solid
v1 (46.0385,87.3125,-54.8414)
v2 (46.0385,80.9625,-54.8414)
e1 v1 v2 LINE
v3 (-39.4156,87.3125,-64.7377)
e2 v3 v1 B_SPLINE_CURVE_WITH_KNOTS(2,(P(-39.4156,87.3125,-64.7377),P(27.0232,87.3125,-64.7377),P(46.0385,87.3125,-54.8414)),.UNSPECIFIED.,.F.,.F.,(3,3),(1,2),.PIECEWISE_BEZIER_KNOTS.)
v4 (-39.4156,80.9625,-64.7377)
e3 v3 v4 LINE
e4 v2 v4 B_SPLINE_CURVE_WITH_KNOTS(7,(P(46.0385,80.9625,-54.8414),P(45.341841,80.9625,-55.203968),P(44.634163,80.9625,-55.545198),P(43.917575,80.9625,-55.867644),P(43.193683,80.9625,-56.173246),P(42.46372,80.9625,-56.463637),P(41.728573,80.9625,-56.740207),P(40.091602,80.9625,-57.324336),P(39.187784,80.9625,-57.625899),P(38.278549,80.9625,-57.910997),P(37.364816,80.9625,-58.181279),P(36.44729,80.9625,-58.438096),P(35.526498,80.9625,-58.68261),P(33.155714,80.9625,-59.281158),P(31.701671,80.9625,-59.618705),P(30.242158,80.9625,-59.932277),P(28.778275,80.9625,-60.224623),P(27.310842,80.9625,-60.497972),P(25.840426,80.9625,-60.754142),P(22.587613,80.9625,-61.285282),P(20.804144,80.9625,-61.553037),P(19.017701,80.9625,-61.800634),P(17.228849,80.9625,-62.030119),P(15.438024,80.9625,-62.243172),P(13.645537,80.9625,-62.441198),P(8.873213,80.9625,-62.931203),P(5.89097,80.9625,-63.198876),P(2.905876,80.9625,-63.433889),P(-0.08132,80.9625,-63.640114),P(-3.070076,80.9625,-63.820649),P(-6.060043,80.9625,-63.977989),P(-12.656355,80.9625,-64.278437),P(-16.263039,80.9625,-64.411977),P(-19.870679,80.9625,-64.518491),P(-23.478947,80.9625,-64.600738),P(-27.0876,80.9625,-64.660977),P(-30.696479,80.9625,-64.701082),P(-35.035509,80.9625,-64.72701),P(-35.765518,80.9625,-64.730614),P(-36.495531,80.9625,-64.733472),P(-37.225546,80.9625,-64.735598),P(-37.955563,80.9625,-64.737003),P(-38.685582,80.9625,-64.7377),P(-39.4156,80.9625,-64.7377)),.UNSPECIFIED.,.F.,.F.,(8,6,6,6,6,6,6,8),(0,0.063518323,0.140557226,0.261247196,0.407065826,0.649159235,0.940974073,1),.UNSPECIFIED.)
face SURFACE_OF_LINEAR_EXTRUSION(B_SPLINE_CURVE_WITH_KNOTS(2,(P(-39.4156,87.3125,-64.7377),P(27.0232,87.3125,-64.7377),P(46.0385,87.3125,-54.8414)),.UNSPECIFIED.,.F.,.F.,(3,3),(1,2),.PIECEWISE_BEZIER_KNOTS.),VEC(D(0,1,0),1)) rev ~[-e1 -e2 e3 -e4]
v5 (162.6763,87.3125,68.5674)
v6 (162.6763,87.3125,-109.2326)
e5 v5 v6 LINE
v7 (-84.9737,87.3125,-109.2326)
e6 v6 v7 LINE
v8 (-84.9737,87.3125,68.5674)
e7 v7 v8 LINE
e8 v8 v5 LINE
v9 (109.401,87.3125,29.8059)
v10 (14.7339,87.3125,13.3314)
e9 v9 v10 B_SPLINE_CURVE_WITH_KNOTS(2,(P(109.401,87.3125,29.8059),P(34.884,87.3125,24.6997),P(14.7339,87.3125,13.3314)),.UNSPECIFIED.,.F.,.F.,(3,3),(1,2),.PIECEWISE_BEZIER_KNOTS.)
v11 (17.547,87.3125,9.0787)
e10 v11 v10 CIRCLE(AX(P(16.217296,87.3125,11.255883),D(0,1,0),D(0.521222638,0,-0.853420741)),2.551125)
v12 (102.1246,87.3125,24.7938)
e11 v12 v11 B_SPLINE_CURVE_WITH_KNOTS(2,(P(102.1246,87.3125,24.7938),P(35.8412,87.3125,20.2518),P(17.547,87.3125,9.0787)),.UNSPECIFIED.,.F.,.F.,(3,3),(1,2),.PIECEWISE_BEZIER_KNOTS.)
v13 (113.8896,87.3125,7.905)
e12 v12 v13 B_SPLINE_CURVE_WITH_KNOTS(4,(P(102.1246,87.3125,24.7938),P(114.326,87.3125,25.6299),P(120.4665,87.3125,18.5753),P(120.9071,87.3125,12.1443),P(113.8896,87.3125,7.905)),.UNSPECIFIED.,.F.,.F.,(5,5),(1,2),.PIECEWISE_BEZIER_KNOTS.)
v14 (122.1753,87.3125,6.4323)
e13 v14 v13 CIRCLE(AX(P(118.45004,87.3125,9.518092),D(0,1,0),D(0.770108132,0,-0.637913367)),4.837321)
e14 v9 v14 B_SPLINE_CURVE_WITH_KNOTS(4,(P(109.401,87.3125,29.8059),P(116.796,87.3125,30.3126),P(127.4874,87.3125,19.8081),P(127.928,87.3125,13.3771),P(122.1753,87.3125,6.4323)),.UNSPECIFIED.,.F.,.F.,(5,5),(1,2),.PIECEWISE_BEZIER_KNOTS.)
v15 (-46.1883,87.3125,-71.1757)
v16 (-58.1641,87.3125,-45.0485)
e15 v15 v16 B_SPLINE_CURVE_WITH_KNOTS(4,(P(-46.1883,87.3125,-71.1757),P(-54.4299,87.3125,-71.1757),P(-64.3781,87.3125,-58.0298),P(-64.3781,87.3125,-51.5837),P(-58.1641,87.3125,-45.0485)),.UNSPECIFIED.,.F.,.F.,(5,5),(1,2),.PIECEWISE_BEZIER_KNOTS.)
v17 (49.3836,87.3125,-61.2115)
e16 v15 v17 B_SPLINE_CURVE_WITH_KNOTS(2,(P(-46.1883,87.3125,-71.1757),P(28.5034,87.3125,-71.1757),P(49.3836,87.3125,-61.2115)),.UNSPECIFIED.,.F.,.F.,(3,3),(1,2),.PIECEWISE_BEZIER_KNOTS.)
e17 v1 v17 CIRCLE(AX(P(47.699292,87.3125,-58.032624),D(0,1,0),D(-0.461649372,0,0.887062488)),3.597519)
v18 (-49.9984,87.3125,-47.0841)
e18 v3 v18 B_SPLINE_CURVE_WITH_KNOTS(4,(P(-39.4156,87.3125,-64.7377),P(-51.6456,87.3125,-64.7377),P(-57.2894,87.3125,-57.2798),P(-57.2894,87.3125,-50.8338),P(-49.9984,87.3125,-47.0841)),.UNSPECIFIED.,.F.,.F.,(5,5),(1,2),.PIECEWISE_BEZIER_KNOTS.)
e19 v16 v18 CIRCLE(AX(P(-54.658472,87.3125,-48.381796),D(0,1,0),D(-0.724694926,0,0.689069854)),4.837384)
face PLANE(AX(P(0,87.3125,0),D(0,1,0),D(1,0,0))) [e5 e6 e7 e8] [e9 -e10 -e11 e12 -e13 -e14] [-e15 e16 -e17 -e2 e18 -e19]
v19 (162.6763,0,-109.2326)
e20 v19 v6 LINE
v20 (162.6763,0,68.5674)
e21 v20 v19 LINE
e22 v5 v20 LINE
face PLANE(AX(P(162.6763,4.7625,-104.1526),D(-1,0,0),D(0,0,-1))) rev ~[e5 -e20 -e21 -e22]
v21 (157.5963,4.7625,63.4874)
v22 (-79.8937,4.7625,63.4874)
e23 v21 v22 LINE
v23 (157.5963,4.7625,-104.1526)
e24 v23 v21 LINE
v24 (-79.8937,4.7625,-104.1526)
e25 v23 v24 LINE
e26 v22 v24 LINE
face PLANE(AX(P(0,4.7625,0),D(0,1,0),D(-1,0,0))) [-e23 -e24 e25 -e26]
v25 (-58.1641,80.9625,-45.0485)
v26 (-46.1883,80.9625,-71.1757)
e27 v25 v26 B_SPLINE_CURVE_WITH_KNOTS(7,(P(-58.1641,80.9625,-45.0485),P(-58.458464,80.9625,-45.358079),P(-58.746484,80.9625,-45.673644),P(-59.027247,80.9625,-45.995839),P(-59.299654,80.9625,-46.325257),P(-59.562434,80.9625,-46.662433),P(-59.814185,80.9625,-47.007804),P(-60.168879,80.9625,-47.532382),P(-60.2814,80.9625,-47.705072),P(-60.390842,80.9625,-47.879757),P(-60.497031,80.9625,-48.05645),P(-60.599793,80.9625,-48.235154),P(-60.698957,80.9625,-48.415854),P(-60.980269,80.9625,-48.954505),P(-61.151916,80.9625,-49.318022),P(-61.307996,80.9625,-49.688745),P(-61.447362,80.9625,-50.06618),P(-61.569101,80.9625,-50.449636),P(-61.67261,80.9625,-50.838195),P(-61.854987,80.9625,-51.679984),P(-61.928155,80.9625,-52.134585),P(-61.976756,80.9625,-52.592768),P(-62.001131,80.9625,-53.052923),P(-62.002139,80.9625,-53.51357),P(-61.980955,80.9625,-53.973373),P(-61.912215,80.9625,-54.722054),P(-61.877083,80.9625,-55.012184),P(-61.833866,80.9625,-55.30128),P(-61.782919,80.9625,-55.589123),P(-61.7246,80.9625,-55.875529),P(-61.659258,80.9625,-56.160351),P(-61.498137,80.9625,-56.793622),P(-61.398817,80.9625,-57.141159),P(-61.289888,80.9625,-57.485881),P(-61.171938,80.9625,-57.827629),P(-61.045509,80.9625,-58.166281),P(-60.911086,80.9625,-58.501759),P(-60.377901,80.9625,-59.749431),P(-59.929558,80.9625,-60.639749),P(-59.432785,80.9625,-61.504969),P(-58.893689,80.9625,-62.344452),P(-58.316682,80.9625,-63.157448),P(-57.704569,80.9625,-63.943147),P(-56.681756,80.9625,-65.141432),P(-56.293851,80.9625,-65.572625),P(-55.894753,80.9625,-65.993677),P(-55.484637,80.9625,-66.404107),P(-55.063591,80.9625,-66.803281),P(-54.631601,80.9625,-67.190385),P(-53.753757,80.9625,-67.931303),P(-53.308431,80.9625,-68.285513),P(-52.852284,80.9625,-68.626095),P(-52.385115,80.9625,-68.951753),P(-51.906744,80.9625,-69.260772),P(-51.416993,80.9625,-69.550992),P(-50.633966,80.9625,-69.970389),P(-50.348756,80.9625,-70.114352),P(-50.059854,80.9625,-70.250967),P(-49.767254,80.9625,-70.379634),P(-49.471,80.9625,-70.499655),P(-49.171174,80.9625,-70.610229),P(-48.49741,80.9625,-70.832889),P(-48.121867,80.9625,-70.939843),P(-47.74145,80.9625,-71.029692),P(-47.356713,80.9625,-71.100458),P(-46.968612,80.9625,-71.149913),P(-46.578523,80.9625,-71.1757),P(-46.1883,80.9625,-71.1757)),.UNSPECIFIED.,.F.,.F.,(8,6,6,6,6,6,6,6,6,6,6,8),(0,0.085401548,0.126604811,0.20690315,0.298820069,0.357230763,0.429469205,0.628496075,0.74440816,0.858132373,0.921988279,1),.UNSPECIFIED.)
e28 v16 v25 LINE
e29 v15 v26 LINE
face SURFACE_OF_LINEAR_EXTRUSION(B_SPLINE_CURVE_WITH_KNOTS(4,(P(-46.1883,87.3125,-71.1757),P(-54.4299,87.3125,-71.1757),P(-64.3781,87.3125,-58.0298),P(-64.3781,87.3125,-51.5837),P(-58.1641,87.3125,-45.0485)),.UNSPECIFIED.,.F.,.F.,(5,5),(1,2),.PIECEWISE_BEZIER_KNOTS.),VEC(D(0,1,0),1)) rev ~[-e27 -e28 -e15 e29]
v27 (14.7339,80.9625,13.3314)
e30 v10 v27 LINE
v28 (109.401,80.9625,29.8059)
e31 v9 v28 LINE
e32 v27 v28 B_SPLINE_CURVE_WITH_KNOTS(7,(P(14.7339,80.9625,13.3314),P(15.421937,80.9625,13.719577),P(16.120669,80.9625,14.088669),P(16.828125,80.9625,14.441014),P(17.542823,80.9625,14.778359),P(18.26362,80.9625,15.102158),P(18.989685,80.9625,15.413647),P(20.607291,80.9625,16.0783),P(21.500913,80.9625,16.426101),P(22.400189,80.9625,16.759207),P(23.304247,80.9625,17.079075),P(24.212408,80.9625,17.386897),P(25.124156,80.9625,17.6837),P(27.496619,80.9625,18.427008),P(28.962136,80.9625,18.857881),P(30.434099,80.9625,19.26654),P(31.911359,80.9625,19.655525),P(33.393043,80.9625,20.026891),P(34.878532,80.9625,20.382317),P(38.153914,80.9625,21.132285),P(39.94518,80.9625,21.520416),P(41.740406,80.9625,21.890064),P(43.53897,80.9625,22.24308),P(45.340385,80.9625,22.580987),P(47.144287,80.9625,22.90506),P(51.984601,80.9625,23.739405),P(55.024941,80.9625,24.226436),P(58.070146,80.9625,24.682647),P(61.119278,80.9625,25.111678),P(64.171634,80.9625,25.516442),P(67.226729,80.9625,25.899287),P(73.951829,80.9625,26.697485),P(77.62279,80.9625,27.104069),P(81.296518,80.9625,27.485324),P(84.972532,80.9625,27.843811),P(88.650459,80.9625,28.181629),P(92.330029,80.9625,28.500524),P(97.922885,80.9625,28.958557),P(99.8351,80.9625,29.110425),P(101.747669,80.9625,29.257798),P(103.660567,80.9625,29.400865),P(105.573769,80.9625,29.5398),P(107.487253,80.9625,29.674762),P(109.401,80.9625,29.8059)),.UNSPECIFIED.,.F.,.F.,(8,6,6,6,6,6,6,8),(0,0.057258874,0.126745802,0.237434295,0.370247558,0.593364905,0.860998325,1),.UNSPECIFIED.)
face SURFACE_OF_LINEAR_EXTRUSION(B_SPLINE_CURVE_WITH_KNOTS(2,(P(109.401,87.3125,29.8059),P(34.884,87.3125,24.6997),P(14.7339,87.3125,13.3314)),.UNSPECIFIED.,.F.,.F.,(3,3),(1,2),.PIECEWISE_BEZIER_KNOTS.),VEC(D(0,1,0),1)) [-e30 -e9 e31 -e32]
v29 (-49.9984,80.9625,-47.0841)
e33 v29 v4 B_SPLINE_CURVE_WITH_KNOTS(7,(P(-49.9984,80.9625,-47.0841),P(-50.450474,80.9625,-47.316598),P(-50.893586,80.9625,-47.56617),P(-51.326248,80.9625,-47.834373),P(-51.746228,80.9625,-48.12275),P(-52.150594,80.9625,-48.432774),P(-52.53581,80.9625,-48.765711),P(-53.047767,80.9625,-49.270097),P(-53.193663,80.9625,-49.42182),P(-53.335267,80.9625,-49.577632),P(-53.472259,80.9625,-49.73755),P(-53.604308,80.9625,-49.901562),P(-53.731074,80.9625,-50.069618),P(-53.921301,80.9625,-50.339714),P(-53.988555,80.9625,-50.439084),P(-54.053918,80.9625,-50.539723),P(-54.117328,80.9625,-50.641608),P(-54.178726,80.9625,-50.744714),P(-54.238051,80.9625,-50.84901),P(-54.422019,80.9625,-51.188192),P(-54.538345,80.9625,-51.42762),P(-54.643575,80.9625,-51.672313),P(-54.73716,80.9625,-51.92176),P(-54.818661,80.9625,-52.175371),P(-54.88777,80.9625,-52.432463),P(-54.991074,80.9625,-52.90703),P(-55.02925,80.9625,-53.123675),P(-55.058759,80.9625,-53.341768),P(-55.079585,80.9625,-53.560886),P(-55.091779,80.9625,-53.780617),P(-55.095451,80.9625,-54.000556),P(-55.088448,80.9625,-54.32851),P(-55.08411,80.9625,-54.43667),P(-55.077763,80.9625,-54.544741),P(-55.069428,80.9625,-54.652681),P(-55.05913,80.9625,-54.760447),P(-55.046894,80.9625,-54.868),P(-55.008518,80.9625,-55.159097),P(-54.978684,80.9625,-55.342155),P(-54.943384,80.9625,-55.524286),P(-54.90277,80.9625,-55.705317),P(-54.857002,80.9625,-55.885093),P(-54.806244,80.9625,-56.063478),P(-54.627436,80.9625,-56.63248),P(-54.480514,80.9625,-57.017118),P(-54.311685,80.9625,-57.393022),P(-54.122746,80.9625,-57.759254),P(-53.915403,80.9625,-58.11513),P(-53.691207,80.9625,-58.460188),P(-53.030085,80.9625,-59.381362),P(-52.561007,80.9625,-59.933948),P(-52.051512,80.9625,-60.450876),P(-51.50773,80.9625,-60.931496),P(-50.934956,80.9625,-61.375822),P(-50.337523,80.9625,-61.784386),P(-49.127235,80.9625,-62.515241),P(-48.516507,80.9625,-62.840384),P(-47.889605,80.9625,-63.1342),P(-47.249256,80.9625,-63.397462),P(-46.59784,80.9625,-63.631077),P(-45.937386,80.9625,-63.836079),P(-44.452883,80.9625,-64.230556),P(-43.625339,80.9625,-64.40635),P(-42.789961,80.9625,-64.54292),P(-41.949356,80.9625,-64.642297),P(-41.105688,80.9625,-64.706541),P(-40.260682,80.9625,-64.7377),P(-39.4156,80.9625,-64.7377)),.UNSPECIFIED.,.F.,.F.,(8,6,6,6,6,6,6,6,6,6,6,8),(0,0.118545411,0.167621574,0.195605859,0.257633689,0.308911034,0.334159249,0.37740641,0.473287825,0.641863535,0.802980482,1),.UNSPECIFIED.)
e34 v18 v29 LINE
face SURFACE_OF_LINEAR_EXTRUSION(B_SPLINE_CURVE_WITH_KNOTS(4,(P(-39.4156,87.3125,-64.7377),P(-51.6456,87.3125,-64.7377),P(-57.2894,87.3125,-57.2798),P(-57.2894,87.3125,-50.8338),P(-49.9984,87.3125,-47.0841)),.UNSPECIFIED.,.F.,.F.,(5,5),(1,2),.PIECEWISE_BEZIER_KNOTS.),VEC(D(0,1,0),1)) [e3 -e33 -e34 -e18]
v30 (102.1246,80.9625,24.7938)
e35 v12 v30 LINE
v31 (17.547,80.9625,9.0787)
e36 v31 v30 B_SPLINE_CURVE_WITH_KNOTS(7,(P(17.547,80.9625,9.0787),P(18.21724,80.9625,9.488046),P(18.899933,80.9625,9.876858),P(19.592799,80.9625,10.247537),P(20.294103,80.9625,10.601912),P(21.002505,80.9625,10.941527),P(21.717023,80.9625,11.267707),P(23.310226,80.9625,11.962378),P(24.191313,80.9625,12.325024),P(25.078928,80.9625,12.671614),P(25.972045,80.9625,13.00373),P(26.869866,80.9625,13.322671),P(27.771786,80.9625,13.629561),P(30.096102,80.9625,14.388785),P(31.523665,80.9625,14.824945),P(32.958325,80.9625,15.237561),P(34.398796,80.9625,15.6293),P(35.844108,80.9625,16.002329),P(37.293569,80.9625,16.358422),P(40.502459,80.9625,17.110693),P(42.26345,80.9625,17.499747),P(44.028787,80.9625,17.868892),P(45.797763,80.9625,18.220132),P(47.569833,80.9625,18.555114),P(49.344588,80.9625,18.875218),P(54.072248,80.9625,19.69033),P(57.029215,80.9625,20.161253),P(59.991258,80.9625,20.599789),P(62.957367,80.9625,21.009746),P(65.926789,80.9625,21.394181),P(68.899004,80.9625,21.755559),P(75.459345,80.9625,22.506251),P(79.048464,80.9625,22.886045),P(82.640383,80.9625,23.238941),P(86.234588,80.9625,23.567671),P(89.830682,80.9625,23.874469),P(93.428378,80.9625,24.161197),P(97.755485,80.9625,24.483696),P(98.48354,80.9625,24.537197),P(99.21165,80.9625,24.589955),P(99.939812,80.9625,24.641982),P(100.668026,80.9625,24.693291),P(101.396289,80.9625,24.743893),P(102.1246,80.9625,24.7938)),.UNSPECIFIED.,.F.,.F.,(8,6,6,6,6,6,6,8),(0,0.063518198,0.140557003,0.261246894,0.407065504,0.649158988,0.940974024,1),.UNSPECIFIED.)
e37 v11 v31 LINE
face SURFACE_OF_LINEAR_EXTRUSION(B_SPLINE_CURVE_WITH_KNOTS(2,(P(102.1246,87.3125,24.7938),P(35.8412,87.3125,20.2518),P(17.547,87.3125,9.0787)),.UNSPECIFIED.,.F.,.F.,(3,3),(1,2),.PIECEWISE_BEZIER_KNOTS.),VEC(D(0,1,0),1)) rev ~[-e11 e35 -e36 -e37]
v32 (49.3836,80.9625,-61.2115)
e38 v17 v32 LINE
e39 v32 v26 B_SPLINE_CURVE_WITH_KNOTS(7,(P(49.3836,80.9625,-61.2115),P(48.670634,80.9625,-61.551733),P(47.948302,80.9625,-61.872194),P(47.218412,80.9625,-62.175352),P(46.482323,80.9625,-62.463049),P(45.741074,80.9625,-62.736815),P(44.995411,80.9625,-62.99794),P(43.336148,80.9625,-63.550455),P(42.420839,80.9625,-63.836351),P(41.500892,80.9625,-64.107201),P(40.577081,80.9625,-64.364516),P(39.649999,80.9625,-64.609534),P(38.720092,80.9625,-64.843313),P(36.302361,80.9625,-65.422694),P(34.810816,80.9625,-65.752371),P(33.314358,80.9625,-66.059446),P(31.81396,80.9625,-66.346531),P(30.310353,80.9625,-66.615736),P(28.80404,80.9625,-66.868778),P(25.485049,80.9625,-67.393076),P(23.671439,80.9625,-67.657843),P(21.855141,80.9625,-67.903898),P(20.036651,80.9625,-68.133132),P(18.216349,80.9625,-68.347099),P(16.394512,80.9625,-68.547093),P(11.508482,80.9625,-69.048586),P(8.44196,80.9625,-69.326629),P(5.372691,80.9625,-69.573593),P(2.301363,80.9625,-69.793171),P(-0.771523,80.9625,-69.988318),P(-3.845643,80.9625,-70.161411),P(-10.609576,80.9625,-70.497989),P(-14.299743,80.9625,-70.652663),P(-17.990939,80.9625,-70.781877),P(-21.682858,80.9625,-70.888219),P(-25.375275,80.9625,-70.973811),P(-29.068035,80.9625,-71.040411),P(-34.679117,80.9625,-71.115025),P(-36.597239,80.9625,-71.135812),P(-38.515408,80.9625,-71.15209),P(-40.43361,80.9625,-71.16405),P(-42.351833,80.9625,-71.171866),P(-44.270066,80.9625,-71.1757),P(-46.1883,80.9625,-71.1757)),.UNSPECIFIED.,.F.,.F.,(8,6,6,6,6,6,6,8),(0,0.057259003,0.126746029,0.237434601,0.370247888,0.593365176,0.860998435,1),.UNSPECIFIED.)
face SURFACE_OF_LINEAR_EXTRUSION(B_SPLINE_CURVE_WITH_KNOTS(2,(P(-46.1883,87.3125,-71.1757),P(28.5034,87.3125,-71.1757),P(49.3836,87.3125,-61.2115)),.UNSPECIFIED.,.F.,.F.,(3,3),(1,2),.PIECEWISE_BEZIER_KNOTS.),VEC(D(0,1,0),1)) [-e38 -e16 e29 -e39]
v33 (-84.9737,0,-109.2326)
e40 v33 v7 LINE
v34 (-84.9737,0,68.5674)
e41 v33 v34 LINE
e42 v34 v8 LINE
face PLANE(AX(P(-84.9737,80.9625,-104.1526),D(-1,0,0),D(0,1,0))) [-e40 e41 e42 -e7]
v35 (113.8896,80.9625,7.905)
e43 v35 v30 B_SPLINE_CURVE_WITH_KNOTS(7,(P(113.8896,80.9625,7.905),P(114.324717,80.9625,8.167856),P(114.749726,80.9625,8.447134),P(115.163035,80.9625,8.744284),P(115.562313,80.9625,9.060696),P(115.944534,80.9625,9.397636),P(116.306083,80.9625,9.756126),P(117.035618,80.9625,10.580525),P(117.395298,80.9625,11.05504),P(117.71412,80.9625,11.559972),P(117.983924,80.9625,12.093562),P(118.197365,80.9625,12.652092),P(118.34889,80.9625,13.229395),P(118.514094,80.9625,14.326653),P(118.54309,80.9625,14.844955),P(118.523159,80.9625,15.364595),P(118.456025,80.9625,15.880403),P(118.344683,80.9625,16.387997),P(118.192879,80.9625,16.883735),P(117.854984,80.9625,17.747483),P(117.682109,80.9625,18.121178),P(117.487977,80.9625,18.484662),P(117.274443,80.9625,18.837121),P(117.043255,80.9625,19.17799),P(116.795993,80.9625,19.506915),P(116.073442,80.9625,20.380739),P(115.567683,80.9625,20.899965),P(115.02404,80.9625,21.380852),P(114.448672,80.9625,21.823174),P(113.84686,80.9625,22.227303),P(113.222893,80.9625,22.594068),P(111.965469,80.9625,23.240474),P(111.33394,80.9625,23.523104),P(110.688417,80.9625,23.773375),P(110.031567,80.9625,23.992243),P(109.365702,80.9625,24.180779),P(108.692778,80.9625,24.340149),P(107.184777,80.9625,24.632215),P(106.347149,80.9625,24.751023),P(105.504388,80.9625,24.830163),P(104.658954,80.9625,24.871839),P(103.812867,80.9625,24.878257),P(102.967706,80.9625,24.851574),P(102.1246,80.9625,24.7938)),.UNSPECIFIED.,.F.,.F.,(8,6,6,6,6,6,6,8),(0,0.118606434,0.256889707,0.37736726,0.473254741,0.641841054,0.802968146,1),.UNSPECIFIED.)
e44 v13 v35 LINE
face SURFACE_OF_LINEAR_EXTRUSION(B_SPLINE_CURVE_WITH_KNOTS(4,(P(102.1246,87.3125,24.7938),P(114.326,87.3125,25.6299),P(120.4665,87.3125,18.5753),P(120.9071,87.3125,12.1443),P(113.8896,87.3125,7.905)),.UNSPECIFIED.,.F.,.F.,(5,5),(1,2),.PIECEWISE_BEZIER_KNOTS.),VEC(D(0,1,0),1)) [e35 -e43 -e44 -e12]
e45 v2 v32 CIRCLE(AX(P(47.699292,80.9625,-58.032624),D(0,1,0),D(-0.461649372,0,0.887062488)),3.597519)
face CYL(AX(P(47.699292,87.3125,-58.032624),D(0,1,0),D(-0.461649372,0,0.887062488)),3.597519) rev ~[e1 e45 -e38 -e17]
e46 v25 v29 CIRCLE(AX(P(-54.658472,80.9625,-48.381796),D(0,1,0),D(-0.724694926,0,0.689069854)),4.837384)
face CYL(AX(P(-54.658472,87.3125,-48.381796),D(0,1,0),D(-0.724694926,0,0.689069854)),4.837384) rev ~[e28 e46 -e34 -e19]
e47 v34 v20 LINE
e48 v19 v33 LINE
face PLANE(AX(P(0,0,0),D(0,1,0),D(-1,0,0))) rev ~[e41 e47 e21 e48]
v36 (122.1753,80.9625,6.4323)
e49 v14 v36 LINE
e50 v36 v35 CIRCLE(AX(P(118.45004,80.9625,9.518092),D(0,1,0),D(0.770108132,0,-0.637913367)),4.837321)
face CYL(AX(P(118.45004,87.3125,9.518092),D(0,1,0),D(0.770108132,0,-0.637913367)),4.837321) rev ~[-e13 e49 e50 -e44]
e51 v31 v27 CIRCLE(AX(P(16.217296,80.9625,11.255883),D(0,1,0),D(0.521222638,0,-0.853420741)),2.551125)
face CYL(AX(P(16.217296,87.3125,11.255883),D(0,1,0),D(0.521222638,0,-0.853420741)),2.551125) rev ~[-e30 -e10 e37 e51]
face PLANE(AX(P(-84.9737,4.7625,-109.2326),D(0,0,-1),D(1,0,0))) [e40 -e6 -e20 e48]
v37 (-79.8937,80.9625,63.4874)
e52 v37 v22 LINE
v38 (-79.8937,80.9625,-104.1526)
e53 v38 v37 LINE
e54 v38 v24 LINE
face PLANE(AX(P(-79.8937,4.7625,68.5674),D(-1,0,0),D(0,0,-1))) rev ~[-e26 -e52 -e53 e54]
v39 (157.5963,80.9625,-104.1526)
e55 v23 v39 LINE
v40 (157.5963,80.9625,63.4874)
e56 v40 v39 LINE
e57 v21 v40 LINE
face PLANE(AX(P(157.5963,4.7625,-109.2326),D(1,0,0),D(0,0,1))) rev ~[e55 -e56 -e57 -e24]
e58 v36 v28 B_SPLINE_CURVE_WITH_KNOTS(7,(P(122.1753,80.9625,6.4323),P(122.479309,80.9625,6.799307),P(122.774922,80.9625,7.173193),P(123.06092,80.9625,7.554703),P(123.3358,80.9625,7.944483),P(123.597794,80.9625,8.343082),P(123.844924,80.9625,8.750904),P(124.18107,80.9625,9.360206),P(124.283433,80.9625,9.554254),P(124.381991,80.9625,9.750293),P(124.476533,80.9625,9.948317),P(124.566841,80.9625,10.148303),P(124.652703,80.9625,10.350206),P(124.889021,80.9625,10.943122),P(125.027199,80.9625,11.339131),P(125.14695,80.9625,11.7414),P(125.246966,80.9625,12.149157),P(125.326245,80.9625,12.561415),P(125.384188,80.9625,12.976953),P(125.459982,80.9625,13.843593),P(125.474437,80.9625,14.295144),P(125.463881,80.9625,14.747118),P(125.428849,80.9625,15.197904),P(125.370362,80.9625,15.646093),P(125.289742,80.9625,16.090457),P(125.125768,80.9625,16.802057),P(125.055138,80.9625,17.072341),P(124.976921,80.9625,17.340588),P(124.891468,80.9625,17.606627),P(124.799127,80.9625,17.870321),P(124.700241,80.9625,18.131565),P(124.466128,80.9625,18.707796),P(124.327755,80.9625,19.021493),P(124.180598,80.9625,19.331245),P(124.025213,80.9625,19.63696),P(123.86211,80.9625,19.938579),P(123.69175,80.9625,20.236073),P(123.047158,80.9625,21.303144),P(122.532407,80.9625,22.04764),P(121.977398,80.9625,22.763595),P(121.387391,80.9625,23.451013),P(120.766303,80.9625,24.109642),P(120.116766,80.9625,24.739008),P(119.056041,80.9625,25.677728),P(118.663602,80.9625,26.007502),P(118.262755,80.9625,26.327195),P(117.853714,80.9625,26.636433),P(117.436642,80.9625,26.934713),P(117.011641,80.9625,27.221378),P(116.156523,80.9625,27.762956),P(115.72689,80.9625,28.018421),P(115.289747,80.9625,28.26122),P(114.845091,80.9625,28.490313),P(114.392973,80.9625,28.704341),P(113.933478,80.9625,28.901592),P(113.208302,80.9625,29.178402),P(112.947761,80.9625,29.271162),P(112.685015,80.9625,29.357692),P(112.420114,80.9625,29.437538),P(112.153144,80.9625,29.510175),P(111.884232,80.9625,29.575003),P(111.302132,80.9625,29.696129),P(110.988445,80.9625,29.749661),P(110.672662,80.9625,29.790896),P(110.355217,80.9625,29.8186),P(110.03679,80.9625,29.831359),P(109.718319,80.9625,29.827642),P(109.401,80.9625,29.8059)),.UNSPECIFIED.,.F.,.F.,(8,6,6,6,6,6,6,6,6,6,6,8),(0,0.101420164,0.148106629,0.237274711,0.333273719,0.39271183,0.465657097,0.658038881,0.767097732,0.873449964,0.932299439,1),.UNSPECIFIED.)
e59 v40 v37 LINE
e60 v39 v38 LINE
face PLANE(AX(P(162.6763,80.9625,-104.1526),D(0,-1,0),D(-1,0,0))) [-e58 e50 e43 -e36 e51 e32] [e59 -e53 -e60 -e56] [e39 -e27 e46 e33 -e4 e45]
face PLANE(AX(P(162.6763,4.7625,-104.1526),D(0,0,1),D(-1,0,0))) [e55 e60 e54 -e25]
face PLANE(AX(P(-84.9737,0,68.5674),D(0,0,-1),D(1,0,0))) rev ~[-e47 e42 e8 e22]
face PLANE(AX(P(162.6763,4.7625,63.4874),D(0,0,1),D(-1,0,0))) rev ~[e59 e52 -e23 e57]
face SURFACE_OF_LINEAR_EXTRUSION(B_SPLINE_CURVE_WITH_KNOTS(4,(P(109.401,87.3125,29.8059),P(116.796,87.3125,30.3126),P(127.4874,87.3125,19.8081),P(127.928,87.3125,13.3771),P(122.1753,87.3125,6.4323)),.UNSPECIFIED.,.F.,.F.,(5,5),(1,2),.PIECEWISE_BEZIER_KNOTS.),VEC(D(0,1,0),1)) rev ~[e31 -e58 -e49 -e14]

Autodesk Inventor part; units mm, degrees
ref_plane "YZ Plane" through (0, 0, 0) normal (1, 0, 0) x (0, 1, 0)
ref_plane "XZ Plane" through (0, 0, 0) normal (0, 1, 0) x (-1, 0, 0)
sketch "Sketch1" plane through (0, 0, 0) normal (0, 1, 0) x (-1, 0, 0)
  line L0 (84.9737, 68.5674) -> (-162.6763, 68.5674)
  line L1 (-162.6763, 68.5674) -> (-162.6763, -109.2326)
  line L2 (-162.6763, -109.2326) -> (84.9737, -109.2326)
  line L3 (84.9737, -109.2326) -> (84.9737, 68.5674)
  point P0 (0, 0)
  dimension "d0" = 247.65
  dimension "d1" = 177.8
extrude "Extrusion1" add sketch "Sketch1" along normal blind 4.7625
sketch "Sketch2" plane through (0, 4.7625, 0) normal (0, 1, 0) x (1, 0, 0)
  line L0 (-84.9737, 109.2326) -> (-84.9737, -68.5674) projected
  line L1 (162.6763, -68.5674) -> (162.6763, 109.2326) projected
  line L2 (-84.9737, -68.5674) -> (162.6763, -68.5674)
  line L3 (162.6763, -68.5674) -> (162.6763, -63.4874)
  line L4 (162.6763, -63.4874) -> (-84.9737, -63.4874)
  line L5 (-84.9737, -63.4874) -> (-84.9737, -68.5674)
  point P0 (0, 0)
  point P1 (-84.9737, -63.4874)
  dimension "d4" = 5.08
extrude "Extrusion2" add sketch "Sketch2" along normal blind 82.55
sketch "Sketch3" plane through (0, 4.7625, 0) normal (0, 1, 0) x (1, 0, 0)
  line L0 (-84.9737, 109.2326) -> (-84.9737, -68.5674) projected
  line L1 (162.6763, -68.5674) -> (162.6763, 109.2326) projected
  line L2 (-84.9737, 109.2326) -> (162.6763, 109.2326)
  line L3 (162.6763, 109.2326) -> (162.6763, 104.1526)
  line L4 (162.6763, 104.1526) -> (-84.9737, 104.1526)
  line L5 (-84.9737, 104.1526) -> (-84.9737, 109.2326)
  point P0 (0, 0)
  point P1 (-84.9737, 104.1526)
  dimension "d7" = 5.08
extrude "Extrusion3" add sketch "Sketch3" along normal blind 82.55
sketch "Sketch4" plane through (0, 4.7625, 0) normal (0, 1, 0) x (1, 0, 0)
  line L0 (-84.9737, -68.5674) -> (162.6763, -68.5674) projected
  line L1 (162.6763, 109.2326) -> (-84.9737, 109.2326) projected
  line L2 (-84.9737, -68.5674) -> (-79.8937, -68.5674)
  line L3 (-79.8937, -68.5674) -> (-79.8937, 109.2326)
  line L4 (-79.8937, 109.2326) -> (-84.9737, 109.2326)
  line L5 (-84.9737, 109.2326) -> (-84.9737, -68.5674)
  line L6 (162.6763, -68.5674) -> (157.5963, -68.5674)
  line L7 (157.5963, -68.5674) -> (157.5963, 109.2326)
  line L8 (157.5963, 109.2326) -> (162.6763, 109.2326)
  line L9 (162.6763, 109.2326) -> (162.6763, -68.5674)
  point P0 (0, 0)
  dimension "d10" = 5.08
  dimension "d11" = 5.08
extrude "Extrusion4" add sketch "Sketch4" along normal blind 82.55 contours L5 L1 L3 L0
sketch "Sketch5" plane through (0, 4.7625, 0) normal (0, 1, 0) x (1, 0, 0)
  line L0 (162.6763, 109.2326) -> (-84.9737, 109.2326) projected
  line L1 (-84.9737, -68.5674) -> (162.6763, -68.5674) projected
  line L2 (162.6763, 109.2326) -> (157.5963, 109.2326)
  line L3 (157.5963, 109.2326) -> (157.5963, -68.5674)
  line L4 (157.5963, -68.5674) -> (162.6763, -68.5674)
  line L5 (162.6763, -68.5674) -> (162.6763, 109.2326)
  point P0 (0, 0)
  dimension "d14" = 5.08
extrude "Extrusion5" add sketch "Sketch5" along normal blind 82.55
sketch "Sketch6" plane through (-79.8937, 4.7625, -104.1526) normal (0, 0, 1) x (1, 0, 0)
  line L0 (-5.08, -4.7625) -> (-5.08, 82.55) projected
  line L1 (242.57, -4.7625) -> (242.57, 82.55) projected
  line L2 (-5.08, 82.55) -> (242.57, 82.55)
  line L3 (242.57, 82.55) -> (242.57, 76.2)
  line L4 (242.57, 76.2) -> (-5.08, 76.2)
  line L5 (-5.08, 76.2) -> (-5.08, 82.55)
  point P0 (79.8937, -4.7625)
  dimension "d17" = 6.35
extrude "Extrusion6" add sketch "Sketch6" along normal blind 167.64
sketch "Sketch7" plane through (0, 0, 0) normal (0, -1, 0) x (1, 0, 0)
  point P0 (0, 0)
ref_plane "Work Plane1" through (0, 87.3125, 0) normal (0, 1, 0) x (1, 0, 0)
sketch "Sketch10" plane through (0, 87.3125, 0) normal (0, 1, 0) x (1, 0, 0)
  line L0 (-39.4156, 64.7377) -> (-51.6456, 64.7377) construction
  spline S0 degree 4 poles (-39.4156, 64.7377) (-51.6456, 64.7377) (-57.2894, 57.2798) (-57.2894, 50.8338) (-49.9984, 47.0841) knots 1 1 1 1 1 2 2 2 2 2
  line L1 (-51.6456, 64.7377) -> (-57.2894, 57.2798) construction
  line L2 (-57.2894, 57.2798) -> (-57.2894, 50.8338) construction
  line L3 (-57.2894, 50.8338) -> (-49.9984, 47.0841) construction
  line L4 (-46.1883, 71.1757) -> (-54.4299, 71.1757) construction
  spline S1 degree 4 poles (-46.1883, 71.1757) (-54.4299, 71.1757) (-64.3781, 58.0298) (-64.3781, 51.5837) (-58.1641, 45.0485) knots 1 1 1 1 1 2 2 2 2 2
  line L5 (-54.4299, 71.1757) -> (-64.3781, 58.0298) construction
  line L6 (-64.3781, 58.0298) -> (-64.3781, 51.5837) construction
  line L7 (-64.3781, 51.5837) -> (-58.1641, 45.0485) construction
  line L8 (-39.4156, 64.7377) -> (27.0232, 64.7377) construction
  spline S2 degree 2 poles (-39.4156, 64.7377) (27.0232, 64.7377) (46.0385, 54.8414) knots 1 1 1 2 2 2
  line L9 (27.0232, 64.7377) -> (46.0385, 54.8414) construction
  spline S3 degree 2 poles (-46.1883, 71.1757) (28.5034, 71.1757) (49.3836, 61.2115) knots 1 1 1 2 2 2
  line L10 (-46.1883, 71.1757) -> (28.5034, 71.1757) construction
  line L11 (28.5034, 71.1757) -> (49.3836, 61.2115) construction
  arc A0 (-58.1641, 45.0485) -> (-49.9984, 47.0841) centre (-54.6585, 48.3817) ccw
  arc A1 (46.0385, 54.8414) -> (49.3836, 61.2115) centre (47.6993, 58.0326) ccw
  line L12 (102.1246, -24.7938) -> (35.8412, -20.2518) construction
  spline S4 degree 2 poles (102.1246, -24.7938) (35.8412, -20.2518) (17.547, -9.0787) knots 1 1 1 2 2 2
  line L13 (35.8412, -20.2518) -> (17.547, -9.0787) construction
  spline S5 degree 2 poles (109.401, -29.8059) (34.884, -24.6997) (14.7339, -13.3314) knots 1 1 1 2 2 2
  line L14 (109.401, -29.8059) -> (34.884, -24.6997) construction
  line L15 (34.884, -24.6997) -> (14.7339, -13.3314) construction
  line L16 (120.9071, -12.1443) -> (113.8896, -7.905) construction
  spline S6 degree 4 poles (102.1246, -24.7938) (114.326, -25.6299) (120.4665, -18.5753) (120.9071, -12.1443) (113.8896, -7.905) knots 1 1 1 1 1 2 2 2 2 2
  line L17 (102.1246, -24.7938) -> (114.326, -25.6299) construction
  line L18 (114.326, -25.6299) -> (120.4665, -18.5753) construction
  line L19 (120.4665, -18.5753) -> (120.9071, -12.1443) construction
  line L20 (127.928, -13.3771) -> (122.1753, -6.4323) construction
  spline S7 degree 4 poles (109.401, -29.8059) (116.796, -30.3126) (127.4874, -19.8081) (127.928, -13.3771) (122.1753, -6.4323) knots 1 1 1 1 1 2 2 2 2 2
  line L21 (109.401, -29.8059) -> (116.796, -30.3126) construction
  line L22 (116.796, -30.3126) -> (127.4874, -19.8081) construction
  line L23 (127.4874, -19.8081) -> (127.928, -13.3771) construction
  arc A2 (122.1753, -6.4323) -> (113.8896, -7.905) centre (118.45, -9.5182) ccw
  arc A3 (17.547, -9.0787) -> (14.7339, -13.3314) centre (16.2173, -11.2559) ccw
  point P0 (0, 0)
  point P1 (0, 194.8532)
extrude "Extrusion9" cut sketch "Sketch10" against normal blind 25.4
properties part number "CigarBox" material "Wood (Maple)"
